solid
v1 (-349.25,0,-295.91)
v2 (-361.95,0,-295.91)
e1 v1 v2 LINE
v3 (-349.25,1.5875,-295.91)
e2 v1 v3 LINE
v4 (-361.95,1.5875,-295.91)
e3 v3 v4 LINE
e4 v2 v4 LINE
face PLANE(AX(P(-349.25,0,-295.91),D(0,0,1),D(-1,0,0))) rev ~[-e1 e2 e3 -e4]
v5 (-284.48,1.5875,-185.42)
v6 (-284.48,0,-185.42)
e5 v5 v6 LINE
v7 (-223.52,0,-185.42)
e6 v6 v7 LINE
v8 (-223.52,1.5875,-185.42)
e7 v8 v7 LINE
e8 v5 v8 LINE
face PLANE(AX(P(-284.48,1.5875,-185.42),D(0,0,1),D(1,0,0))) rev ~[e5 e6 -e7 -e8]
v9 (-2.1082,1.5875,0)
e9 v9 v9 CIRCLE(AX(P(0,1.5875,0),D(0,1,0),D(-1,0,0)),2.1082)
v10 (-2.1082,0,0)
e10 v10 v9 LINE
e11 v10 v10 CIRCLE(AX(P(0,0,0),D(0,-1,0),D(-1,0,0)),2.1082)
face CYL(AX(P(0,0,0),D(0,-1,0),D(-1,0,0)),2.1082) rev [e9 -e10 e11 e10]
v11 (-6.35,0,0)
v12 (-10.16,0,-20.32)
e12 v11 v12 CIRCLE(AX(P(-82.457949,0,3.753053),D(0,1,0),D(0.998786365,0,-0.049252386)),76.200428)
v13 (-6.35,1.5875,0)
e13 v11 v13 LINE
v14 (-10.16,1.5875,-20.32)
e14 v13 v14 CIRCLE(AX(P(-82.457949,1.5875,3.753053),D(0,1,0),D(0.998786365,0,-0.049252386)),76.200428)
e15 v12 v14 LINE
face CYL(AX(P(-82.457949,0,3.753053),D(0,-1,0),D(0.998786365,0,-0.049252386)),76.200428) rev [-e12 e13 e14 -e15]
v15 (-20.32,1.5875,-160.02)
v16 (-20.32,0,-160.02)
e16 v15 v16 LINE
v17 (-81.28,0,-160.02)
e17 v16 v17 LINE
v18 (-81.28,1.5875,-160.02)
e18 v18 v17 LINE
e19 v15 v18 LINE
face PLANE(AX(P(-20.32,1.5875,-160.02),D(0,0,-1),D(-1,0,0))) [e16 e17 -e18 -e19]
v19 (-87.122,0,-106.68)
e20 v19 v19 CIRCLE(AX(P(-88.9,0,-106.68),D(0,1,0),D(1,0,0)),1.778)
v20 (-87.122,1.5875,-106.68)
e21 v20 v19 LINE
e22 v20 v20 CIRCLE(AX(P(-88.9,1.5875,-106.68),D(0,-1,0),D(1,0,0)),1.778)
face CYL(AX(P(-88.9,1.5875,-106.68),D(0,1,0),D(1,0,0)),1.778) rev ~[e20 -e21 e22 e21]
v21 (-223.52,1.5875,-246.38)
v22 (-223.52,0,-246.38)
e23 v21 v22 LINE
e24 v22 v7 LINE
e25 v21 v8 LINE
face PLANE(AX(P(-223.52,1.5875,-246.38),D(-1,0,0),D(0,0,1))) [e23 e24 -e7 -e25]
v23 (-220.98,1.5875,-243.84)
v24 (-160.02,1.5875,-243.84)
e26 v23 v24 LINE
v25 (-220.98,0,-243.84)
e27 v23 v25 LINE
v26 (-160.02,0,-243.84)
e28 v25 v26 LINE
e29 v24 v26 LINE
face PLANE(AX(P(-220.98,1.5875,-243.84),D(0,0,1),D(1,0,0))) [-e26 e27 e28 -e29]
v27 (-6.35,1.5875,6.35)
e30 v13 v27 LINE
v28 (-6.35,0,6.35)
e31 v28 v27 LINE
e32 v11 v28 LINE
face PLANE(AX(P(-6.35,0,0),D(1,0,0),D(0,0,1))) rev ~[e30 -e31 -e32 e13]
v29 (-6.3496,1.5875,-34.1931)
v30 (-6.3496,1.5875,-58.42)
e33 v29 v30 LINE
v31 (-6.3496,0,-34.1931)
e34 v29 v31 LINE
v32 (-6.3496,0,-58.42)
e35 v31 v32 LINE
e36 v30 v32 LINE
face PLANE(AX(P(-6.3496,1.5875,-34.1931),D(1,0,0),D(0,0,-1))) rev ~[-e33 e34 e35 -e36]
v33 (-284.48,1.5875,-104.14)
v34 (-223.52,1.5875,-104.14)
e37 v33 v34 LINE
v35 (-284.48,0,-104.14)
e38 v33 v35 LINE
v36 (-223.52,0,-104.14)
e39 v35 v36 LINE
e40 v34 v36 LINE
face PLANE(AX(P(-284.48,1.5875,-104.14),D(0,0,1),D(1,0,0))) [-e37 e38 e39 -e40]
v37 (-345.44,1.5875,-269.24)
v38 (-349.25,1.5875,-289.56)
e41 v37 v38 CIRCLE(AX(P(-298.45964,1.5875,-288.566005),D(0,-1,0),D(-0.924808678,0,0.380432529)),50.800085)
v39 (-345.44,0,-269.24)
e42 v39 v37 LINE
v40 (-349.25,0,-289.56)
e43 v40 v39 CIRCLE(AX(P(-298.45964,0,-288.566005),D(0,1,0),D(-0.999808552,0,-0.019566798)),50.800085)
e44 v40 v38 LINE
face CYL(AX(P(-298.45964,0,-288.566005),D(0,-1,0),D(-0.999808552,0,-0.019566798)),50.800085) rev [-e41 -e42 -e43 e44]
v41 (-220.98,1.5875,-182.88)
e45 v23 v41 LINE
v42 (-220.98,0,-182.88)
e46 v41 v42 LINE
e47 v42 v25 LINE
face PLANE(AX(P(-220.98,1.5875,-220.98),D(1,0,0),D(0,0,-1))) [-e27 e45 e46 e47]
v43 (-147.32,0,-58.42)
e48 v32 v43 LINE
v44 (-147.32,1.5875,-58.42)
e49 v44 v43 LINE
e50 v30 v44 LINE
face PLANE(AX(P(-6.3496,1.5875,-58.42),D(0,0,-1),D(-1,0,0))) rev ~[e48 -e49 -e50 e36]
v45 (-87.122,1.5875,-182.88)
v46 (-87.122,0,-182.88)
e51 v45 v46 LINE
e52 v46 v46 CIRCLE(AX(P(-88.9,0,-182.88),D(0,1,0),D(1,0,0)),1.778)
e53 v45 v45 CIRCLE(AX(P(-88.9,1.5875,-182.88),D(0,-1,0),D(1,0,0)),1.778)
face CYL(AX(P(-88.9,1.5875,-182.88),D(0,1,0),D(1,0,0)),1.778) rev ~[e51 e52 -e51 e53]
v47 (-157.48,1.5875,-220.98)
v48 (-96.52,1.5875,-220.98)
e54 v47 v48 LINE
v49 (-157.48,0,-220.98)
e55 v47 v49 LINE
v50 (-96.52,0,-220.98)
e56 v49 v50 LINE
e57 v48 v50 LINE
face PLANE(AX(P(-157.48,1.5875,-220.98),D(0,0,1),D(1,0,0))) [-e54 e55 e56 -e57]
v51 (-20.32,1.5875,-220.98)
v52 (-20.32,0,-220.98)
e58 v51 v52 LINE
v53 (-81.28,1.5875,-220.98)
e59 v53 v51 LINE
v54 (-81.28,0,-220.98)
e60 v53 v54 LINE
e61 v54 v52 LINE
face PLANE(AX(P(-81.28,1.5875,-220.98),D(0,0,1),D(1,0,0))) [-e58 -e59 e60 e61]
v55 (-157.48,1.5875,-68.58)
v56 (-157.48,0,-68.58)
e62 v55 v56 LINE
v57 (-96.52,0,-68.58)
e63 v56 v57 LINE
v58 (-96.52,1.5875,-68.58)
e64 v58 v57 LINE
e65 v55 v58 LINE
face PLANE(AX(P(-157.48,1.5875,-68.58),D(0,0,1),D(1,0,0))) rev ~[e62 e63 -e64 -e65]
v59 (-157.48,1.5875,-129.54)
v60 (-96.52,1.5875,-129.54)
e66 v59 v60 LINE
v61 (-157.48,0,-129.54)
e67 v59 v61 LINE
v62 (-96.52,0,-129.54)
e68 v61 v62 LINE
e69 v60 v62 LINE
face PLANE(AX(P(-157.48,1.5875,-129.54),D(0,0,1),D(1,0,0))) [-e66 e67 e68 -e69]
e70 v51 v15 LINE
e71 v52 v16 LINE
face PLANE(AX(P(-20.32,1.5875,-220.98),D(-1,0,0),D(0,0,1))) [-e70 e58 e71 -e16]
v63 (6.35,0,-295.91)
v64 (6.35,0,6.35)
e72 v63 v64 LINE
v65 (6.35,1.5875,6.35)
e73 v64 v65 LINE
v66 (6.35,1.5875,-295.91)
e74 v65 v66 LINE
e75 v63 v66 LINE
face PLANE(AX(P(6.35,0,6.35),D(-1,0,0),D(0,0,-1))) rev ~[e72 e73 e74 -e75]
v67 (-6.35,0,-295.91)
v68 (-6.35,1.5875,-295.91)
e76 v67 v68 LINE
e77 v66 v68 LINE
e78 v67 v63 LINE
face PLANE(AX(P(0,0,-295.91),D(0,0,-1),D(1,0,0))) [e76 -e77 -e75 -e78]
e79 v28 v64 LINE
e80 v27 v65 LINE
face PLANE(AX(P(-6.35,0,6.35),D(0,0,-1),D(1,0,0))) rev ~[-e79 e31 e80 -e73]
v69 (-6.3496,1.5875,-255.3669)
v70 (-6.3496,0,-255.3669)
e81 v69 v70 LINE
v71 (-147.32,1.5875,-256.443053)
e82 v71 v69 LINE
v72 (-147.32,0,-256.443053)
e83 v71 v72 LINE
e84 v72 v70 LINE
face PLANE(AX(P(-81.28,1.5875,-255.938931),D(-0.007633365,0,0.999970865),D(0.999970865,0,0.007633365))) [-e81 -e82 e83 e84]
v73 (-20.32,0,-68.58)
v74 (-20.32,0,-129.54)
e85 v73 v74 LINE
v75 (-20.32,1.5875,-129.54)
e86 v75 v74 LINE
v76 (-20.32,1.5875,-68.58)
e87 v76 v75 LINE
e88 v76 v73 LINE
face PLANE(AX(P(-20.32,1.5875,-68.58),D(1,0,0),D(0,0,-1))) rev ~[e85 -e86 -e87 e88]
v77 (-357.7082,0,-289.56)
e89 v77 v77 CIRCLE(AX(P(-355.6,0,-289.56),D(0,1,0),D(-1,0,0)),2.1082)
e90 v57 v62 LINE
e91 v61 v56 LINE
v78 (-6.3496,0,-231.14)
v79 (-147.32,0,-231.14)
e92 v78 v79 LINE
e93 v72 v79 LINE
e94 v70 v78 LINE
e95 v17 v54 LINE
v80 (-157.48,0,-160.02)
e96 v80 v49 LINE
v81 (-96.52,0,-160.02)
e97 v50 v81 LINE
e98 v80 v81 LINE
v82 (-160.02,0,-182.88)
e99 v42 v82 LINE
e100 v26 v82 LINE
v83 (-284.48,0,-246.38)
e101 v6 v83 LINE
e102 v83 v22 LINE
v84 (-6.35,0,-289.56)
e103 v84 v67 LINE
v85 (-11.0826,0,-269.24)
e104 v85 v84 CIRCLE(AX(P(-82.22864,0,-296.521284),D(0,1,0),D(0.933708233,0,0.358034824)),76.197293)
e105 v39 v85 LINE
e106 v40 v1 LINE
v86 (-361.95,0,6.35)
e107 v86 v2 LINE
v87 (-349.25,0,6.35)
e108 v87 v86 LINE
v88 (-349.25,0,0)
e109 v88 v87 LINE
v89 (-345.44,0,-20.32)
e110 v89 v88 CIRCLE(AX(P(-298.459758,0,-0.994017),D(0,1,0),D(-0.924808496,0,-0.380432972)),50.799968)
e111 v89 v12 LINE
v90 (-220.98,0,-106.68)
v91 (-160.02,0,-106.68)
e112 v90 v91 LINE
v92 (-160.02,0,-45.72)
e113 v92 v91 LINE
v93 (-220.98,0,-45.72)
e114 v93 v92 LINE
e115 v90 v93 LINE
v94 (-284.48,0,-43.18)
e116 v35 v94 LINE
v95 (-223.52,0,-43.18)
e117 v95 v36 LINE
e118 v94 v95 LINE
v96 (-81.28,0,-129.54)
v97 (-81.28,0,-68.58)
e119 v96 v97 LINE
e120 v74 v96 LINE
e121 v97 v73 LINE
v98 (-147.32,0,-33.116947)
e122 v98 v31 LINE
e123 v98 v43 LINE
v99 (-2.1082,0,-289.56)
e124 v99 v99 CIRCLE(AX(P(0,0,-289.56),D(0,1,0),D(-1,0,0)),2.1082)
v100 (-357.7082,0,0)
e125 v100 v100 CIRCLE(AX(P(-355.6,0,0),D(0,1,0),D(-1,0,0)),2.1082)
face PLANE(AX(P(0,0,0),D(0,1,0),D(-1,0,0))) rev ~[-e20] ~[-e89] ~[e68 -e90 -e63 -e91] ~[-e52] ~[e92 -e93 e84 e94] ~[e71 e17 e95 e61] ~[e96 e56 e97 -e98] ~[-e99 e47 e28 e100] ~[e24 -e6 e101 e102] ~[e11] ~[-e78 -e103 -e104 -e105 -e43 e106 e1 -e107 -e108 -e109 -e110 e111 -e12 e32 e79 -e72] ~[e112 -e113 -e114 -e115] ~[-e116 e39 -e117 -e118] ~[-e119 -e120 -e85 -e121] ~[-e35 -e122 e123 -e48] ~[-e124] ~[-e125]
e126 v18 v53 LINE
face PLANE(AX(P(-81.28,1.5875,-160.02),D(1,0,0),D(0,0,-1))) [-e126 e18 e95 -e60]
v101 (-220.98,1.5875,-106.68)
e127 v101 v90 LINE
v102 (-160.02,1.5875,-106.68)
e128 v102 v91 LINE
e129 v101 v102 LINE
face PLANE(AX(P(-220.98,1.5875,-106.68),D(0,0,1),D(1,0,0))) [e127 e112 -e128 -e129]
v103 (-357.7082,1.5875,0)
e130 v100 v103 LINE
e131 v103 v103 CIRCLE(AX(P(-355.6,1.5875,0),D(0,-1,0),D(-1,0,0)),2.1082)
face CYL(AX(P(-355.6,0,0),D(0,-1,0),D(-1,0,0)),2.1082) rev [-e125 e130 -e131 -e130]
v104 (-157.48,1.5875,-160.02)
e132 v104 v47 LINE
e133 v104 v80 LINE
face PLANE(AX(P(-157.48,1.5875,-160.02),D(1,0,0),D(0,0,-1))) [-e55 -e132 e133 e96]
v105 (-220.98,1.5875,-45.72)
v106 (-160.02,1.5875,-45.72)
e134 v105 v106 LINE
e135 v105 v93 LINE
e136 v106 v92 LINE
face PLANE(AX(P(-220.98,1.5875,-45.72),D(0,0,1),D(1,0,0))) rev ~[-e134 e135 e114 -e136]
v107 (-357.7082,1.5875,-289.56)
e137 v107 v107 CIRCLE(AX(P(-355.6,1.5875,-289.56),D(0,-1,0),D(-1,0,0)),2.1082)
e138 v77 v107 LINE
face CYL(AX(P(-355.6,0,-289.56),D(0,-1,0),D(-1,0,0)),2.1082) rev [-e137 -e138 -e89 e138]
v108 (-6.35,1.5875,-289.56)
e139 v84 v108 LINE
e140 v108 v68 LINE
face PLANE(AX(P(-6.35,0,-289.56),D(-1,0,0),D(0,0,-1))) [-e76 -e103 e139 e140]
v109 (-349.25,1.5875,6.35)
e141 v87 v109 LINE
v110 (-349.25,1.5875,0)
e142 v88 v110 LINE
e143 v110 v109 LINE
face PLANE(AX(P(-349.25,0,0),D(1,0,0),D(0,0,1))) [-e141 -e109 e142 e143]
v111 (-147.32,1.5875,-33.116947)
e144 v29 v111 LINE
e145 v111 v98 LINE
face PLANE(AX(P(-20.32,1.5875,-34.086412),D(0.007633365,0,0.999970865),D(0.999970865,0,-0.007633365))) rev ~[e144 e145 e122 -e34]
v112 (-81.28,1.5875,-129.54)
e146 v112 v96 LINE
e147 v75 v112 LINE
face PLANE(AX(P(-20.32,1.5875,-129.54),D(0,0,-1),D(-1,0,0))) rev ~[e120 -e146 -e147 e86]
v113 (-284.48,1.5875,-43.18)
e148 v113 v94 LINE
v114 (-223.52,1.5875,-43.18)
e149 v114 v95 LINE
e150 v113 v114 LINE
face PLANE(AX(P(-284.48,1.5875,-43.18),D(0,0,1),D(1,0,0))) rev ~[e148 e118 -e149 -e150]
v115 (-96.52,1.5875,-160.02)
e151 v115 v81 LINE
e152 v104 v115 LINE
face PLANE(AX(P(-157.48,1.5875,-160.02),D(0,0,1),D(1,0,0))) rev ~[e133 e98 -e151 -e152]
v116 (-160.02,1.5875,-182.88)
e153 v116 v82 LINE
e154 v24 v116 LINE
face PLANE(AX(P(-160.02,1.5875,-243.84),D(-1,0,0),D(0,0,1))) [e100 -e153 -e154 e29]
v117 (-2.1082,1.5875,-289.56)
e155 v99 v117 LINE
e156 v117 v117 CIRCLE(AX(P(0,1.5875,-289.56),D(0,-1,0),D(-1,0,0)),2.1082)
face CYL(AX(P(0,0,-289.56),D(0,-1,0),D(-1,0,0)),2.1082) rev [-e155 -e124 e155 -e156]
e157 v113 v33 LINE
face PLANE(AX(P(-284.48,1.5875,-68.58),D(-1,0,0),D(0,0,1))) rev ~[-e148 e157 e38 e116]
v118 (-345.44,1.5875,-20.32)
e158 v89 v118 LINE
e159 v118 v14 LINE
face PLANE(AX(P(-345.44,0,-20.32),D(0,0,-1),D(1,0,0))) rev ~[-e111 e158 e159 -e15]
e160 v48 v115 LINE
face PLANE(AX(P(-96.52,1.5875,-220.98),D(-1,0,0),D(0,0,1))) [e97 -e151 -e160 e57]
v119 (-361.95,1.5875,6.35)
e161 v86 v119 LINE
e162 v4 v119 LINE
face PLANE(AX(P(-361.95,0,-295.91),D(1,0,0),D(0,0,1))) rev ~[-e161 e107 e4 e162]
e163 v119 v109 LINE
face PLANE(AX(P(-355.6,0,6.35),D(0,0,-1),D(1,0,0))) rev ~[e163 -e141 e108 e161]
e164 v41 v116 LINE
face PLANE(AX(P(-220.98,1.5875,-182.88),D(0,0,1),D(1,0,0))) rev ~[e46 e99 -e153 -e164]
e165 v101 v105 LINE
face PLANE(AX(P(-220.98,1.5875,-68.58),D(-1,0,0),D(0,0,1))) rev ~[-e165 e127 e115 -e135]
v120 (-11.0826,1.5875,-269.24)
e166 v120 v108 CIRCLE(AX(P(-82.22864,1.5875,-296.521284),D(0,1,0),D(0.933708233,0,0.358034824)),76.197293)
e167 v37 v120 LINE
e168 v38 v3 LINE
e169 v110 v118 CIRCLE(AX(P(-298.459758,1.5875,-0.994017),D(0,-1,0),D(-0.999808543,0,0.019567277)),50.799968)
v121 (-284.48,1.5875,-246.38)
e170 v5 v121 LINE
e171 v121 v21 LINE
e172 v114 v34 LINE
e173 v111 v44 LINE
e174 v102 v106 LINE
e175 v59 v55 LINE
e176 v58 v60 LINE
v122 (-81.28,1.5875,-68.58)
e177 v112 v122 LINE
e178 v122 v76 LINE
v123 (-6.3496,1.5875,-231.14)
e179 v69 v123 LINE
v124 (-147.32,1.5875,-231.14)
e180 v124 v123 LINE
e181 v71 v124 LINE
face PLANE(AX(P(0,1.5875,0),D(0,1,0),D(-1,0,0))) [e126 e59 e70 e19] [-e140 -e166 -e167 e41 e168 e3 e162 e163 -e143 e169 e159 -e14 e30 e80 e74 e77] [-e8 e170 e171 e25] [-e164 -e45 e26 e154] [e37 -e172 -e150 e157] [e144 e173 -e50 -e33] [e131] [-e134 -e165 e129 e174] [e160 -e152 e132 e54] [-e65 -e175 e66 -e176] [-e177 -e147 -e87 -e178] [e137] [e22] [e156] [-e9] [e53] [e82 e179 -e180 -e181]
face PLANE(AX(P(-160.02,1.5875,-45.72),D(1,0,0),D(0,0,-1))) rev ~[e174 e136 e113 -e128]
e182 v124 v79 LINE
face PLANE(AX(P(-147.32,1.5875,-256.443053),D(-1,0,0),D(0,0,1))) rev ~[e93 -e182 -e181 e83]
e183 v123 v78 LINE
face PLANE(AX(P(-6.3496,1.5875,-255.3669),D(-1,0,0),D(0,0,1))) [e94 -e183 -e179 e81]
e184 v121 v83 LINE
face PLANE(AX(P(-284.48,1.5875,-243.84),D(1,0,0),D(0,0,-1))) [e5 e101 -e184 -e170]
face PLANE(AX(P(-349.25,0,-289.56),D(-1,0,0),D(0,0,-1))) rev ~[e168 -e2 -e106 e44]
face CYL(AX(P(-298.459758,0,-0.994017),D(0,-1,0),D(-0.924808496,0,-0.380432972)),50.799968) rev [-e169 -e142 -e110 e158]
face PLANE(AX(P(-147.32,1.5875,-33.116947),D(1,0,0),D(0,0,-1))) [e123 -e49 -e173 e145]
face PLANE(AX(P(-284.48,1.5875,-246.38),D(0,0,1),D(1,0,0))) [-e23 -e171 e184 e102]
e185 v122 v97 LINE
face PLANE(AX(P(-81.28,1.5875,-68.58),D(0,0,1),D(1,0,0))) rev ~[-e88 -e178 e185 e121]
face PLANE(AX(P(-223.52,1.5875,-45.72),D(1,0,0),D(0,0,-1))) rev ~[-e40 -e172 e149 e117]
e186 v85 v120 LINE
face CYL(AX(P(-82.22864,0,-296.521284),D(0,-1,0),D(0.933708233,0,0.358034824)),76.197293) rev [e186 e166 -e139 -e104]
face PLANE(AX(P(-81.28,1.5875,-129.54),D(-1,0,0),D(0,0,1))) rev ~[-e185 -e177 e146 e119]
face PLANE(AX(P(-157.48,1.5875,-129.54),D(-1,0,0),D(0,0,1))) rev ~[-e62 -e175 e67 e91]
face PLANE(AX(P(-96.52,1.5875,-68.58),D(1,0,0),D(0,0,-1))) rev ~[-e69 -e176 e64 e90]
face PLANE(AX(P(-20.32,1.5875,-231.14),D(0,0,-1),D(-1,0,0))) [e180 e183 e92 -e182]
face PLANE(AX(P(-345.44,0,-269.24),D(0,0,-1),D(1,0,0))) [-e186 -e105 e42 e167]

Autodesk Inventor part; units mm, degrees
ref_plane "YZ Plane" through (0, 0, 0) normal (1, 0, 0) x (0, 1, 0)
ref_plane "XZ Plane" through (0, 0, 0) normal (0, 1, 0) x (-1, 0, 0)
ref_plane "XY Plane" through (0, 0, 0) normal (0, 0, 1) x (1, 0, 0)
sketch "Sketch1" plane through (0, 0, 0) normal (0, 1, 0) x (-1, 0, 0)
  line L0 (0, 0) -> (355.6, 0)
  line L1 (355.6, 0) -> (355.6, -289.56)
  line L2 (355.6, -289.56) -> (0, -289.56)
  line L3 (0, -289.56) -> (0, 0)
  circle A0 centre (355.6, 0) radius 2.1082
  line L4 (355.6, 0) -> (361.95, 0)
  line L5 (355.6, 0) -> (355.6, 6.35)
  line L6 (355.6, 6.35) -> (361.95, 6.35)
  line L7 (0, -289.56) -> (0, -295.91)
  line L8 (0, -295.91) -> (-6.35, -295.91)
  line L9 (-6.35, -295.91) -> (361.95, -295.91)
  line L10 (361.95, -295.91) -> (361.95, 6.35)
  line L11 (361.95, 6.35) -> (-6.35, 6.35)
  line L12 (-6.35, 6.35) -> (-6.35, -295.91)
  circle A1 centre (355.6, -289.56) radius 2.1082
  circle A2 centre (0, -289.56) radius 2.1082
  circle A3 centre (0, 0) radius 2.1082
  line L13 (0, 0) -> (0, -20.32)
  line L14 (0, -20.32) -> (10.16, -20.32)
  line L15 (0, 0) -> (5.08, 0)
  line L16 (0, -289.56) -> (5.08, -289.56)
  line L17 (0, -289.56) -> (0, -269.24)
  line L18 (0, -269.24) -> (11.0826, -269.24)
  line L19 (355.6, 0) -> (355.6, -20.32)
  line L20 (355.6, -20.32) -> (345.44, -20.32)
  line L21 (355.6, 0) -> (350.52, 0)
  line L22 (355.6, -289.56) -> (350.52, -289.56)
  line L23 (355.6, -289.56) -> (355.6, -269.24)
  line L24 (355.6, -269.24) -> (345.44, -269.24)
  line L25 (345.44, -20.32) -> (10.16, -20.32)
  line L26 (355.6, -20.32) -> (355.6, -33.02)
  line L27 (355.6, -33.02) -> (0, -33.02)
  line L28 (355.6, -269.24) -> (355.6, -256.54)
  line L29 (355.6, -256.54) -> (0, -256.54)
  line L30 (345.44, -269.24) -> (11.0826, -269.24)
  line L31 (0, 0) -> (6.35, 0)
  arc A4 (6.35, 0) -> (10.16, -20.32) centre (82.4575, 3.753) ccw
  line L32 (6.35, 0) -> (-6.35, 0)
  line L33 (-6.35, 0) -> (-6.35, -289.56)
  line L34 (-6.35, -289.56) -> (6.35, -289.56)
  line L35 (6.35, -289.56) -> (6.35, 0)
  arc A5 (11.0826, -269.24) -> (6.35, -289.56) centre (82.2313, -296.5221) ccw
  line L36 (355.6, 0) -> (349.25, 0)
  line L37 (349.25, 0) -> (349.25, -289.56)
  arc A6 (349.25, -289.56) -> (345.44, -269.24) centre (298.4597, -288.566) ccw
  arc A7 (345.44, -20.32) -> (349.25, 0) centre (298.4597, -0.994) ccw
  line L38 (349.25, 0) -> (349.25, 6.35)
  line L39 (349.25, -289.56) -> (349.25, -295.91)
  line L40 (6.35, -289.56) -> (6.35, -295.91)
  line L41 (6.35, 0) -> (6.35, 6.35)
  dimension "d0" = 355.6
  dimension "d1" = 289.56
  dimension "d2" = 4.2164
  dimension "d3" = 6.35
  dimension "d4" = 6.35
  dimension "d5" = 6.35
  dimension "d6" = 6.35
  dimension "d7" = 20.32
  dimension "d8" = 10.16
  dimension "d10" = 20.32
  dimension "d12" = 20.32
  dimension "d13" = 10.16
  dimension "d16" = 5.08
  dimension "d17" = 20.32
  dimension "d18" = 10.16
  dimension "d20" = 12.7
  dimension "d21" = 12.7
  dimension "d23" = 6.35
  dimension "d24" = 76.2
  dimension "d25" = 76.2
  dimension "d26" = 6.35
  dimension "d27" = 50.8
  dimension "d28" = 50.8
extrude "Extrusion1" add sketch "Sketch1" along normal blind 1.5875 contours A3 L32 L12 L11 L41 L0 | L0 L35 L14 L3 A3 | L3 A2 L34 L12 L32 A3 | L14 L35 L27 L3 | A4 L14 L35 | L27 L35 L29 L3 | L14 L25 L20 L37 L27 L35 | L34 A2 L7 L8 L12 | L38 L11 L5 A0 L0 | L0 A0 L1 L20 L37 A7 | L29 L35 L18 L3 | L27 L37 L29 L35 | L37 L20 A7 | L18 L35 L2 A2 L3 | L29 L37 L24 L30 L18 L35 | L37 L20 L1 L27 | L27 L1 L29 L37 | L7 A2 L2 L40 L9 | L6 L10 L4 A0 L5 | L18 A5 L35 | L29 L1 L24 L37 | L1 A0 L4 L10 L9 L39 L2 A1 | L37 A6 L24 | L24 L1 A1 L2 A6 L37
sketch "Sketch2" plane through (0, 1.5875, 0) normal (0, 1, 0) x (1, 0, 0)
  circle A0 centre (-355.6, 289.56) radius 2.1082 projected
  line L0 (-355.6, 289.56) -> (-355.6, 246.38)
  line L1 (-355.6, 246.38) -> (-284.48, 246.38)
  line L2 (-355.6, 289.56) -> (-355.6, 185.42)
  line L3 (-355.6, 185.42) -> (-223.52, 185.42)
  line L4 (-284.48, 246.38) -> (-223.52, 246.38)
  line L5 (-223.52, 246.38) -> (-223.52, 185.42)
  line L6 (-223.52, 185.42) -> (-284.48, 185.42)
  line L7 (-284.48, 185.42) -> (-284.48, 246.38)
  line L8 (-355.6, 289.56) -> (-355.6, 243.84)
  line L9 (-355.6, 243.84) -> (-220.98, 243.84)
  line L10 (-355.6, 289.56) -> (-355.6, 184.15)
  line L11 (-355.6, 289.56) -> (-355.6, 182.88)
  line L12 (-355.6, 182.88) -> (-160.02, 182.88)
  line L13 (-220.98, 243.84) -> (-160.02, 243.84)
  line L14 (-160.02, 243.84) -> (-160.02, 182.88)
  line L15 (-160.02, 182.88) -> (-220.98, 182.88)
  line L16 (-220.98, 182.88) -> (-220.98, 243.84)
  line L17 (-355.6, 289.56) -> (-355.6, 220.98)
  line L18 (-355.6, 220.98) -> (-157.48, 220.98)
  line L19 (-355.6, 289.56) -> (-355.6, 160.02)
  line L20 (-355.6, 160.02) -> (-96.52, 160.02)
  line L21 (-157.48, 220.98) -> (-96.52, 220.98)
  line L22 (-96.52, 220.98) -> (-96.52, 160.02)
  line L23 (-96.52, 160.02) -> (-157.48, 160.02)
  line L24 (-157.48, 160.02) -> (-157.48, 220.98)
  line L25 (-355.6, 289.56) -> (-81.28, 289.56)
  line L26 (-81.28, 289.56) -> (-81.28, 220.98)
  line L27 (-355.6, 289.56) -> (-20.32, 289.56)
  line L28 (-20.32, 289.56) -> (-20.32, 160.02)
  line L29 (-81.28, 220.98) -> (-20.32, 220.98)
  line L30 (-20.32, 220.98) -> (-20.32, 160.02)
  line L31 (-20.32, 160.02) -> (-81.28, 160.02)
  line L32 (-81.28, 160.02) -> (-81.28, 220.98)
  line L33 (-355.6, 289.56) -> (-160.02, 289.56)
  line L34 (-160.02, 289.56) -> (-160.02, 269.24)
  line L35 (-11.0826, 269.24) -> (-345.44, 269.24) projected
  line L36 (-160.02, 269.24) -> (-160.02, 256.54)
  line L37 (-160.02, 256.54) -> (6.35, 255.27)
  line L38 (6.35, -6.35) -> (6.35, 295.91) projected
  line L39 (6.35, 255.27) -> (-6.3496, 255.3669)
  line L40 (-160.02, 289.56) -> (-160.02, 231.14)
  line L41 (-6.3496, 255.3669) -> (-6.3496, 231.14)
  line L42 (-6.3496, 231.14) -> (-160.02, 231.14)
  line L43 (-160.02, 256.54) -> (-147.32, 256.54)
  line L44 (-147.32, 256.54) -> (-147.32, 231.14)
  line L45 (-147.32, 231.14) -> (-160.02, 231.14)
  line L46 (-160.02, 231.14) -> (-160.02, 256.54)
  line L47 (6.35, 295.91) -> (6.35, -6.35)
  line L48 (-361.95, 295.91) -> (-361.95, -6.35) projected
  line L49 (6.35, 144.78) -> (-361.95, 144.78)
  circle A1 centre (-355.6, 0) radius 2.1082
  line L50 (-355.6, 0) -> (-355.6, 43.18)
  line L51 (-355.6, 43.18) -> (-284.48, 43.18)
  line L52 (-355.6, 0) -> (-355.6, 104.14)
  line L53 (-355.6, 104.14) -> (-223.52, 104.14)
  line L54 (-284.48, 43.18) -> (-223.52, 43.18)
  line L55 (-223.52, 43.18) -> (-223.52, 104.14)
  line L56 (-223.52, 104.14) -> (-284.48, 104.14)
  line L57 (-284.48, 104.14) -> (-284.48, 43.18)
  line L58 (-355.6, 0) -> (-355.6, 45.72)
  line L59 (-355.6, 45.72) -> (-220.98, 45.72)
  line L60 (-355.6, 0) -> (-355.6, 105.41)
  line L61 (-355.6, 0) -> (-355.6, 106.68)
  line L62 (-355.6, 106.68) -> (-160.02, 106.68)
  line L63 (-220.98, 45.72) -> (-160.02, 45.72)
  line L64 (-160.02, 45.72) -> (-160.02, 106.68)
  line L65 (-160.02, 106.68) -> (-220.98, 106.68)
  line L66 (-220.98, 106.68) -> (-220.98, 45.72)
  line L67 (-355.6, 0) -> (-355.6, 68.58)
  line L68 (-355.6, 68.58) -> (-157.48, 68.58)
  line L69 (-355.6, 0) -> (-355.6, 129.54)
  line L70 (-355.6, 129.54) -> (-96.52, 129.54)
  line L71 (-157.48, 68.58) -> (-96.52, 68.58)
  line L72 (-96.52, 68.58) -> (-96.52, 129.54)
  line L73 (-96.52, 129.54) -> (-157.48, 129.54)
  line L74 (-157.48, 129.54) -> (-157.48, 68.58)
  line L75 (-355.6, 0) -> (-81.28, 0)
  line L76 (-81.28, 0) -> (-81.28, 68.58)
  line L77 (-355.6, 0) -> (-20.32, 0)
  line L78 (-20.32, 0) -> (-20.32, 129.54)
  line L79 (-81.28, 68.58) -> (-20.32, 68.58)
  line L80 (-20.32, 68.58) -> (-20.32, 129.54)
  line L81 (-20.32, 129.54) -> (-81.28, 129.54)
  line L82 (-81.28, 129.54) -> (-81.28, 68.58)
  line L83 (-355.6, 0) -> (-160.02, 0)
  line L84 (-160.02, 0) -> (-160.02, 20.32)
  line L85 (-11.0826, 20.32) -> (-345.44, 20.32)
  line L86 (-160.02, 20.32) -> (-160.02, 33.02)
  line L87 (-160.02, 33.02) -> (6.35, 34.29)
  line L88 (6.35, 34.29) -> (-6.3496, 34.1931)
  line L89 (-160.02, 0) -> (-160.02, 58.42)
  line L90 (-6.3496, 34.1931) -> (-6.3496, 58.42)
  line L91 (-6.3496, 58.42) -> (-160.02, 58.42)
  line L92 (-160.02, 33.02) -> (-147.32, 33.02)
  line L93 (-147.32, 33.02) -> (-147.32, 58.42)
  line L94 (-147.32, 58.42) -> (-160.02, 58.42)
  line L95 (-160.02, 58.42) -> (-160.02, 33.02)
  line L96 (-361.95, -6.35) -> (-361.95, 295.91)
  line L97 (-96.52, 160.02) -> (-81.28, 160.02)
  line L98 (-88.9, 160.02) -> (-88.9, 144.78)
  line L99 (-88.9, 144.78) -> (-88.9, 182.88)
  circle A2 centre (-88.9, 182.88) radius 1.778
  line L100 (-88.9, 144.78) -> (-88.9, 106.68)
  circle A3 centre (-88.9, 106.68) radius 1.778
  point P0 (0, 0)
  point P1 (-223.52, 243.84)
  point P2 (-284.48, 243.84)
  point P3 (-147.32, 256.4431)
  point P4 (-147.32, 33.1169)
  dimension "d31" = 43.18
  dimension "d32" = 71.12
  dimension "d33" = 104.14
  dimension "d34" = 132.08
  dimension "d35" = 45.72
  dimension "d36" = 134.62
  dimension "d37" = 105.41
  dimension "d38" = 106.68
  dimension "d39" = 195.58
  dimension "d42" = 68.58
  dimension "d43" = 198.12
  dimension "d44" = 129.54
  dimension "d45" = 259.08
  dimension "d46" = 274.32
  dimension "d47" = 68.58
  dimension "d49" = 335.28
  dimension "d50" = 129.54
  dimension "d51" = 195.58
  dimension "d52" = 12.7
  dimension "d53" = 12.7
  dimension "d54" = 58.42
  dimension "d55" = 12.7
  dimension "d56" = 38.1
  dimension "d57" = 3.556
  dimension "d58" = 38.1
  dimension "d59" = 3.556
extrude "Extrusion2" cut sketch "Sketch2" against normal blind 25.4 contours L87 L78 L91 L90 | A3 | L4 L5 L9 L7 | L9 L5 L18 L7 | L37 L28 L42 L26 | L26 L42 L44 L37 | L14 L18 L16 L13 | L18 L5 L3 L7 | A2 | L37 L41 L42 L28 | L29 L28 L31 L32 | L18 L14 L12 L16 | L21 L22 L20 L24 | L87 L76 L91 L78 | L87 L93 L91 L76 | L79 L82 L81 L78 | L64 L63 L66 L68 | L68 L66 L62 L64 | L74 L70 L72 L71 | L59 L57 L68 L55 | L55 L54 L57 L59 | L68 L57 L53 L55
properties part number "belly pan"
